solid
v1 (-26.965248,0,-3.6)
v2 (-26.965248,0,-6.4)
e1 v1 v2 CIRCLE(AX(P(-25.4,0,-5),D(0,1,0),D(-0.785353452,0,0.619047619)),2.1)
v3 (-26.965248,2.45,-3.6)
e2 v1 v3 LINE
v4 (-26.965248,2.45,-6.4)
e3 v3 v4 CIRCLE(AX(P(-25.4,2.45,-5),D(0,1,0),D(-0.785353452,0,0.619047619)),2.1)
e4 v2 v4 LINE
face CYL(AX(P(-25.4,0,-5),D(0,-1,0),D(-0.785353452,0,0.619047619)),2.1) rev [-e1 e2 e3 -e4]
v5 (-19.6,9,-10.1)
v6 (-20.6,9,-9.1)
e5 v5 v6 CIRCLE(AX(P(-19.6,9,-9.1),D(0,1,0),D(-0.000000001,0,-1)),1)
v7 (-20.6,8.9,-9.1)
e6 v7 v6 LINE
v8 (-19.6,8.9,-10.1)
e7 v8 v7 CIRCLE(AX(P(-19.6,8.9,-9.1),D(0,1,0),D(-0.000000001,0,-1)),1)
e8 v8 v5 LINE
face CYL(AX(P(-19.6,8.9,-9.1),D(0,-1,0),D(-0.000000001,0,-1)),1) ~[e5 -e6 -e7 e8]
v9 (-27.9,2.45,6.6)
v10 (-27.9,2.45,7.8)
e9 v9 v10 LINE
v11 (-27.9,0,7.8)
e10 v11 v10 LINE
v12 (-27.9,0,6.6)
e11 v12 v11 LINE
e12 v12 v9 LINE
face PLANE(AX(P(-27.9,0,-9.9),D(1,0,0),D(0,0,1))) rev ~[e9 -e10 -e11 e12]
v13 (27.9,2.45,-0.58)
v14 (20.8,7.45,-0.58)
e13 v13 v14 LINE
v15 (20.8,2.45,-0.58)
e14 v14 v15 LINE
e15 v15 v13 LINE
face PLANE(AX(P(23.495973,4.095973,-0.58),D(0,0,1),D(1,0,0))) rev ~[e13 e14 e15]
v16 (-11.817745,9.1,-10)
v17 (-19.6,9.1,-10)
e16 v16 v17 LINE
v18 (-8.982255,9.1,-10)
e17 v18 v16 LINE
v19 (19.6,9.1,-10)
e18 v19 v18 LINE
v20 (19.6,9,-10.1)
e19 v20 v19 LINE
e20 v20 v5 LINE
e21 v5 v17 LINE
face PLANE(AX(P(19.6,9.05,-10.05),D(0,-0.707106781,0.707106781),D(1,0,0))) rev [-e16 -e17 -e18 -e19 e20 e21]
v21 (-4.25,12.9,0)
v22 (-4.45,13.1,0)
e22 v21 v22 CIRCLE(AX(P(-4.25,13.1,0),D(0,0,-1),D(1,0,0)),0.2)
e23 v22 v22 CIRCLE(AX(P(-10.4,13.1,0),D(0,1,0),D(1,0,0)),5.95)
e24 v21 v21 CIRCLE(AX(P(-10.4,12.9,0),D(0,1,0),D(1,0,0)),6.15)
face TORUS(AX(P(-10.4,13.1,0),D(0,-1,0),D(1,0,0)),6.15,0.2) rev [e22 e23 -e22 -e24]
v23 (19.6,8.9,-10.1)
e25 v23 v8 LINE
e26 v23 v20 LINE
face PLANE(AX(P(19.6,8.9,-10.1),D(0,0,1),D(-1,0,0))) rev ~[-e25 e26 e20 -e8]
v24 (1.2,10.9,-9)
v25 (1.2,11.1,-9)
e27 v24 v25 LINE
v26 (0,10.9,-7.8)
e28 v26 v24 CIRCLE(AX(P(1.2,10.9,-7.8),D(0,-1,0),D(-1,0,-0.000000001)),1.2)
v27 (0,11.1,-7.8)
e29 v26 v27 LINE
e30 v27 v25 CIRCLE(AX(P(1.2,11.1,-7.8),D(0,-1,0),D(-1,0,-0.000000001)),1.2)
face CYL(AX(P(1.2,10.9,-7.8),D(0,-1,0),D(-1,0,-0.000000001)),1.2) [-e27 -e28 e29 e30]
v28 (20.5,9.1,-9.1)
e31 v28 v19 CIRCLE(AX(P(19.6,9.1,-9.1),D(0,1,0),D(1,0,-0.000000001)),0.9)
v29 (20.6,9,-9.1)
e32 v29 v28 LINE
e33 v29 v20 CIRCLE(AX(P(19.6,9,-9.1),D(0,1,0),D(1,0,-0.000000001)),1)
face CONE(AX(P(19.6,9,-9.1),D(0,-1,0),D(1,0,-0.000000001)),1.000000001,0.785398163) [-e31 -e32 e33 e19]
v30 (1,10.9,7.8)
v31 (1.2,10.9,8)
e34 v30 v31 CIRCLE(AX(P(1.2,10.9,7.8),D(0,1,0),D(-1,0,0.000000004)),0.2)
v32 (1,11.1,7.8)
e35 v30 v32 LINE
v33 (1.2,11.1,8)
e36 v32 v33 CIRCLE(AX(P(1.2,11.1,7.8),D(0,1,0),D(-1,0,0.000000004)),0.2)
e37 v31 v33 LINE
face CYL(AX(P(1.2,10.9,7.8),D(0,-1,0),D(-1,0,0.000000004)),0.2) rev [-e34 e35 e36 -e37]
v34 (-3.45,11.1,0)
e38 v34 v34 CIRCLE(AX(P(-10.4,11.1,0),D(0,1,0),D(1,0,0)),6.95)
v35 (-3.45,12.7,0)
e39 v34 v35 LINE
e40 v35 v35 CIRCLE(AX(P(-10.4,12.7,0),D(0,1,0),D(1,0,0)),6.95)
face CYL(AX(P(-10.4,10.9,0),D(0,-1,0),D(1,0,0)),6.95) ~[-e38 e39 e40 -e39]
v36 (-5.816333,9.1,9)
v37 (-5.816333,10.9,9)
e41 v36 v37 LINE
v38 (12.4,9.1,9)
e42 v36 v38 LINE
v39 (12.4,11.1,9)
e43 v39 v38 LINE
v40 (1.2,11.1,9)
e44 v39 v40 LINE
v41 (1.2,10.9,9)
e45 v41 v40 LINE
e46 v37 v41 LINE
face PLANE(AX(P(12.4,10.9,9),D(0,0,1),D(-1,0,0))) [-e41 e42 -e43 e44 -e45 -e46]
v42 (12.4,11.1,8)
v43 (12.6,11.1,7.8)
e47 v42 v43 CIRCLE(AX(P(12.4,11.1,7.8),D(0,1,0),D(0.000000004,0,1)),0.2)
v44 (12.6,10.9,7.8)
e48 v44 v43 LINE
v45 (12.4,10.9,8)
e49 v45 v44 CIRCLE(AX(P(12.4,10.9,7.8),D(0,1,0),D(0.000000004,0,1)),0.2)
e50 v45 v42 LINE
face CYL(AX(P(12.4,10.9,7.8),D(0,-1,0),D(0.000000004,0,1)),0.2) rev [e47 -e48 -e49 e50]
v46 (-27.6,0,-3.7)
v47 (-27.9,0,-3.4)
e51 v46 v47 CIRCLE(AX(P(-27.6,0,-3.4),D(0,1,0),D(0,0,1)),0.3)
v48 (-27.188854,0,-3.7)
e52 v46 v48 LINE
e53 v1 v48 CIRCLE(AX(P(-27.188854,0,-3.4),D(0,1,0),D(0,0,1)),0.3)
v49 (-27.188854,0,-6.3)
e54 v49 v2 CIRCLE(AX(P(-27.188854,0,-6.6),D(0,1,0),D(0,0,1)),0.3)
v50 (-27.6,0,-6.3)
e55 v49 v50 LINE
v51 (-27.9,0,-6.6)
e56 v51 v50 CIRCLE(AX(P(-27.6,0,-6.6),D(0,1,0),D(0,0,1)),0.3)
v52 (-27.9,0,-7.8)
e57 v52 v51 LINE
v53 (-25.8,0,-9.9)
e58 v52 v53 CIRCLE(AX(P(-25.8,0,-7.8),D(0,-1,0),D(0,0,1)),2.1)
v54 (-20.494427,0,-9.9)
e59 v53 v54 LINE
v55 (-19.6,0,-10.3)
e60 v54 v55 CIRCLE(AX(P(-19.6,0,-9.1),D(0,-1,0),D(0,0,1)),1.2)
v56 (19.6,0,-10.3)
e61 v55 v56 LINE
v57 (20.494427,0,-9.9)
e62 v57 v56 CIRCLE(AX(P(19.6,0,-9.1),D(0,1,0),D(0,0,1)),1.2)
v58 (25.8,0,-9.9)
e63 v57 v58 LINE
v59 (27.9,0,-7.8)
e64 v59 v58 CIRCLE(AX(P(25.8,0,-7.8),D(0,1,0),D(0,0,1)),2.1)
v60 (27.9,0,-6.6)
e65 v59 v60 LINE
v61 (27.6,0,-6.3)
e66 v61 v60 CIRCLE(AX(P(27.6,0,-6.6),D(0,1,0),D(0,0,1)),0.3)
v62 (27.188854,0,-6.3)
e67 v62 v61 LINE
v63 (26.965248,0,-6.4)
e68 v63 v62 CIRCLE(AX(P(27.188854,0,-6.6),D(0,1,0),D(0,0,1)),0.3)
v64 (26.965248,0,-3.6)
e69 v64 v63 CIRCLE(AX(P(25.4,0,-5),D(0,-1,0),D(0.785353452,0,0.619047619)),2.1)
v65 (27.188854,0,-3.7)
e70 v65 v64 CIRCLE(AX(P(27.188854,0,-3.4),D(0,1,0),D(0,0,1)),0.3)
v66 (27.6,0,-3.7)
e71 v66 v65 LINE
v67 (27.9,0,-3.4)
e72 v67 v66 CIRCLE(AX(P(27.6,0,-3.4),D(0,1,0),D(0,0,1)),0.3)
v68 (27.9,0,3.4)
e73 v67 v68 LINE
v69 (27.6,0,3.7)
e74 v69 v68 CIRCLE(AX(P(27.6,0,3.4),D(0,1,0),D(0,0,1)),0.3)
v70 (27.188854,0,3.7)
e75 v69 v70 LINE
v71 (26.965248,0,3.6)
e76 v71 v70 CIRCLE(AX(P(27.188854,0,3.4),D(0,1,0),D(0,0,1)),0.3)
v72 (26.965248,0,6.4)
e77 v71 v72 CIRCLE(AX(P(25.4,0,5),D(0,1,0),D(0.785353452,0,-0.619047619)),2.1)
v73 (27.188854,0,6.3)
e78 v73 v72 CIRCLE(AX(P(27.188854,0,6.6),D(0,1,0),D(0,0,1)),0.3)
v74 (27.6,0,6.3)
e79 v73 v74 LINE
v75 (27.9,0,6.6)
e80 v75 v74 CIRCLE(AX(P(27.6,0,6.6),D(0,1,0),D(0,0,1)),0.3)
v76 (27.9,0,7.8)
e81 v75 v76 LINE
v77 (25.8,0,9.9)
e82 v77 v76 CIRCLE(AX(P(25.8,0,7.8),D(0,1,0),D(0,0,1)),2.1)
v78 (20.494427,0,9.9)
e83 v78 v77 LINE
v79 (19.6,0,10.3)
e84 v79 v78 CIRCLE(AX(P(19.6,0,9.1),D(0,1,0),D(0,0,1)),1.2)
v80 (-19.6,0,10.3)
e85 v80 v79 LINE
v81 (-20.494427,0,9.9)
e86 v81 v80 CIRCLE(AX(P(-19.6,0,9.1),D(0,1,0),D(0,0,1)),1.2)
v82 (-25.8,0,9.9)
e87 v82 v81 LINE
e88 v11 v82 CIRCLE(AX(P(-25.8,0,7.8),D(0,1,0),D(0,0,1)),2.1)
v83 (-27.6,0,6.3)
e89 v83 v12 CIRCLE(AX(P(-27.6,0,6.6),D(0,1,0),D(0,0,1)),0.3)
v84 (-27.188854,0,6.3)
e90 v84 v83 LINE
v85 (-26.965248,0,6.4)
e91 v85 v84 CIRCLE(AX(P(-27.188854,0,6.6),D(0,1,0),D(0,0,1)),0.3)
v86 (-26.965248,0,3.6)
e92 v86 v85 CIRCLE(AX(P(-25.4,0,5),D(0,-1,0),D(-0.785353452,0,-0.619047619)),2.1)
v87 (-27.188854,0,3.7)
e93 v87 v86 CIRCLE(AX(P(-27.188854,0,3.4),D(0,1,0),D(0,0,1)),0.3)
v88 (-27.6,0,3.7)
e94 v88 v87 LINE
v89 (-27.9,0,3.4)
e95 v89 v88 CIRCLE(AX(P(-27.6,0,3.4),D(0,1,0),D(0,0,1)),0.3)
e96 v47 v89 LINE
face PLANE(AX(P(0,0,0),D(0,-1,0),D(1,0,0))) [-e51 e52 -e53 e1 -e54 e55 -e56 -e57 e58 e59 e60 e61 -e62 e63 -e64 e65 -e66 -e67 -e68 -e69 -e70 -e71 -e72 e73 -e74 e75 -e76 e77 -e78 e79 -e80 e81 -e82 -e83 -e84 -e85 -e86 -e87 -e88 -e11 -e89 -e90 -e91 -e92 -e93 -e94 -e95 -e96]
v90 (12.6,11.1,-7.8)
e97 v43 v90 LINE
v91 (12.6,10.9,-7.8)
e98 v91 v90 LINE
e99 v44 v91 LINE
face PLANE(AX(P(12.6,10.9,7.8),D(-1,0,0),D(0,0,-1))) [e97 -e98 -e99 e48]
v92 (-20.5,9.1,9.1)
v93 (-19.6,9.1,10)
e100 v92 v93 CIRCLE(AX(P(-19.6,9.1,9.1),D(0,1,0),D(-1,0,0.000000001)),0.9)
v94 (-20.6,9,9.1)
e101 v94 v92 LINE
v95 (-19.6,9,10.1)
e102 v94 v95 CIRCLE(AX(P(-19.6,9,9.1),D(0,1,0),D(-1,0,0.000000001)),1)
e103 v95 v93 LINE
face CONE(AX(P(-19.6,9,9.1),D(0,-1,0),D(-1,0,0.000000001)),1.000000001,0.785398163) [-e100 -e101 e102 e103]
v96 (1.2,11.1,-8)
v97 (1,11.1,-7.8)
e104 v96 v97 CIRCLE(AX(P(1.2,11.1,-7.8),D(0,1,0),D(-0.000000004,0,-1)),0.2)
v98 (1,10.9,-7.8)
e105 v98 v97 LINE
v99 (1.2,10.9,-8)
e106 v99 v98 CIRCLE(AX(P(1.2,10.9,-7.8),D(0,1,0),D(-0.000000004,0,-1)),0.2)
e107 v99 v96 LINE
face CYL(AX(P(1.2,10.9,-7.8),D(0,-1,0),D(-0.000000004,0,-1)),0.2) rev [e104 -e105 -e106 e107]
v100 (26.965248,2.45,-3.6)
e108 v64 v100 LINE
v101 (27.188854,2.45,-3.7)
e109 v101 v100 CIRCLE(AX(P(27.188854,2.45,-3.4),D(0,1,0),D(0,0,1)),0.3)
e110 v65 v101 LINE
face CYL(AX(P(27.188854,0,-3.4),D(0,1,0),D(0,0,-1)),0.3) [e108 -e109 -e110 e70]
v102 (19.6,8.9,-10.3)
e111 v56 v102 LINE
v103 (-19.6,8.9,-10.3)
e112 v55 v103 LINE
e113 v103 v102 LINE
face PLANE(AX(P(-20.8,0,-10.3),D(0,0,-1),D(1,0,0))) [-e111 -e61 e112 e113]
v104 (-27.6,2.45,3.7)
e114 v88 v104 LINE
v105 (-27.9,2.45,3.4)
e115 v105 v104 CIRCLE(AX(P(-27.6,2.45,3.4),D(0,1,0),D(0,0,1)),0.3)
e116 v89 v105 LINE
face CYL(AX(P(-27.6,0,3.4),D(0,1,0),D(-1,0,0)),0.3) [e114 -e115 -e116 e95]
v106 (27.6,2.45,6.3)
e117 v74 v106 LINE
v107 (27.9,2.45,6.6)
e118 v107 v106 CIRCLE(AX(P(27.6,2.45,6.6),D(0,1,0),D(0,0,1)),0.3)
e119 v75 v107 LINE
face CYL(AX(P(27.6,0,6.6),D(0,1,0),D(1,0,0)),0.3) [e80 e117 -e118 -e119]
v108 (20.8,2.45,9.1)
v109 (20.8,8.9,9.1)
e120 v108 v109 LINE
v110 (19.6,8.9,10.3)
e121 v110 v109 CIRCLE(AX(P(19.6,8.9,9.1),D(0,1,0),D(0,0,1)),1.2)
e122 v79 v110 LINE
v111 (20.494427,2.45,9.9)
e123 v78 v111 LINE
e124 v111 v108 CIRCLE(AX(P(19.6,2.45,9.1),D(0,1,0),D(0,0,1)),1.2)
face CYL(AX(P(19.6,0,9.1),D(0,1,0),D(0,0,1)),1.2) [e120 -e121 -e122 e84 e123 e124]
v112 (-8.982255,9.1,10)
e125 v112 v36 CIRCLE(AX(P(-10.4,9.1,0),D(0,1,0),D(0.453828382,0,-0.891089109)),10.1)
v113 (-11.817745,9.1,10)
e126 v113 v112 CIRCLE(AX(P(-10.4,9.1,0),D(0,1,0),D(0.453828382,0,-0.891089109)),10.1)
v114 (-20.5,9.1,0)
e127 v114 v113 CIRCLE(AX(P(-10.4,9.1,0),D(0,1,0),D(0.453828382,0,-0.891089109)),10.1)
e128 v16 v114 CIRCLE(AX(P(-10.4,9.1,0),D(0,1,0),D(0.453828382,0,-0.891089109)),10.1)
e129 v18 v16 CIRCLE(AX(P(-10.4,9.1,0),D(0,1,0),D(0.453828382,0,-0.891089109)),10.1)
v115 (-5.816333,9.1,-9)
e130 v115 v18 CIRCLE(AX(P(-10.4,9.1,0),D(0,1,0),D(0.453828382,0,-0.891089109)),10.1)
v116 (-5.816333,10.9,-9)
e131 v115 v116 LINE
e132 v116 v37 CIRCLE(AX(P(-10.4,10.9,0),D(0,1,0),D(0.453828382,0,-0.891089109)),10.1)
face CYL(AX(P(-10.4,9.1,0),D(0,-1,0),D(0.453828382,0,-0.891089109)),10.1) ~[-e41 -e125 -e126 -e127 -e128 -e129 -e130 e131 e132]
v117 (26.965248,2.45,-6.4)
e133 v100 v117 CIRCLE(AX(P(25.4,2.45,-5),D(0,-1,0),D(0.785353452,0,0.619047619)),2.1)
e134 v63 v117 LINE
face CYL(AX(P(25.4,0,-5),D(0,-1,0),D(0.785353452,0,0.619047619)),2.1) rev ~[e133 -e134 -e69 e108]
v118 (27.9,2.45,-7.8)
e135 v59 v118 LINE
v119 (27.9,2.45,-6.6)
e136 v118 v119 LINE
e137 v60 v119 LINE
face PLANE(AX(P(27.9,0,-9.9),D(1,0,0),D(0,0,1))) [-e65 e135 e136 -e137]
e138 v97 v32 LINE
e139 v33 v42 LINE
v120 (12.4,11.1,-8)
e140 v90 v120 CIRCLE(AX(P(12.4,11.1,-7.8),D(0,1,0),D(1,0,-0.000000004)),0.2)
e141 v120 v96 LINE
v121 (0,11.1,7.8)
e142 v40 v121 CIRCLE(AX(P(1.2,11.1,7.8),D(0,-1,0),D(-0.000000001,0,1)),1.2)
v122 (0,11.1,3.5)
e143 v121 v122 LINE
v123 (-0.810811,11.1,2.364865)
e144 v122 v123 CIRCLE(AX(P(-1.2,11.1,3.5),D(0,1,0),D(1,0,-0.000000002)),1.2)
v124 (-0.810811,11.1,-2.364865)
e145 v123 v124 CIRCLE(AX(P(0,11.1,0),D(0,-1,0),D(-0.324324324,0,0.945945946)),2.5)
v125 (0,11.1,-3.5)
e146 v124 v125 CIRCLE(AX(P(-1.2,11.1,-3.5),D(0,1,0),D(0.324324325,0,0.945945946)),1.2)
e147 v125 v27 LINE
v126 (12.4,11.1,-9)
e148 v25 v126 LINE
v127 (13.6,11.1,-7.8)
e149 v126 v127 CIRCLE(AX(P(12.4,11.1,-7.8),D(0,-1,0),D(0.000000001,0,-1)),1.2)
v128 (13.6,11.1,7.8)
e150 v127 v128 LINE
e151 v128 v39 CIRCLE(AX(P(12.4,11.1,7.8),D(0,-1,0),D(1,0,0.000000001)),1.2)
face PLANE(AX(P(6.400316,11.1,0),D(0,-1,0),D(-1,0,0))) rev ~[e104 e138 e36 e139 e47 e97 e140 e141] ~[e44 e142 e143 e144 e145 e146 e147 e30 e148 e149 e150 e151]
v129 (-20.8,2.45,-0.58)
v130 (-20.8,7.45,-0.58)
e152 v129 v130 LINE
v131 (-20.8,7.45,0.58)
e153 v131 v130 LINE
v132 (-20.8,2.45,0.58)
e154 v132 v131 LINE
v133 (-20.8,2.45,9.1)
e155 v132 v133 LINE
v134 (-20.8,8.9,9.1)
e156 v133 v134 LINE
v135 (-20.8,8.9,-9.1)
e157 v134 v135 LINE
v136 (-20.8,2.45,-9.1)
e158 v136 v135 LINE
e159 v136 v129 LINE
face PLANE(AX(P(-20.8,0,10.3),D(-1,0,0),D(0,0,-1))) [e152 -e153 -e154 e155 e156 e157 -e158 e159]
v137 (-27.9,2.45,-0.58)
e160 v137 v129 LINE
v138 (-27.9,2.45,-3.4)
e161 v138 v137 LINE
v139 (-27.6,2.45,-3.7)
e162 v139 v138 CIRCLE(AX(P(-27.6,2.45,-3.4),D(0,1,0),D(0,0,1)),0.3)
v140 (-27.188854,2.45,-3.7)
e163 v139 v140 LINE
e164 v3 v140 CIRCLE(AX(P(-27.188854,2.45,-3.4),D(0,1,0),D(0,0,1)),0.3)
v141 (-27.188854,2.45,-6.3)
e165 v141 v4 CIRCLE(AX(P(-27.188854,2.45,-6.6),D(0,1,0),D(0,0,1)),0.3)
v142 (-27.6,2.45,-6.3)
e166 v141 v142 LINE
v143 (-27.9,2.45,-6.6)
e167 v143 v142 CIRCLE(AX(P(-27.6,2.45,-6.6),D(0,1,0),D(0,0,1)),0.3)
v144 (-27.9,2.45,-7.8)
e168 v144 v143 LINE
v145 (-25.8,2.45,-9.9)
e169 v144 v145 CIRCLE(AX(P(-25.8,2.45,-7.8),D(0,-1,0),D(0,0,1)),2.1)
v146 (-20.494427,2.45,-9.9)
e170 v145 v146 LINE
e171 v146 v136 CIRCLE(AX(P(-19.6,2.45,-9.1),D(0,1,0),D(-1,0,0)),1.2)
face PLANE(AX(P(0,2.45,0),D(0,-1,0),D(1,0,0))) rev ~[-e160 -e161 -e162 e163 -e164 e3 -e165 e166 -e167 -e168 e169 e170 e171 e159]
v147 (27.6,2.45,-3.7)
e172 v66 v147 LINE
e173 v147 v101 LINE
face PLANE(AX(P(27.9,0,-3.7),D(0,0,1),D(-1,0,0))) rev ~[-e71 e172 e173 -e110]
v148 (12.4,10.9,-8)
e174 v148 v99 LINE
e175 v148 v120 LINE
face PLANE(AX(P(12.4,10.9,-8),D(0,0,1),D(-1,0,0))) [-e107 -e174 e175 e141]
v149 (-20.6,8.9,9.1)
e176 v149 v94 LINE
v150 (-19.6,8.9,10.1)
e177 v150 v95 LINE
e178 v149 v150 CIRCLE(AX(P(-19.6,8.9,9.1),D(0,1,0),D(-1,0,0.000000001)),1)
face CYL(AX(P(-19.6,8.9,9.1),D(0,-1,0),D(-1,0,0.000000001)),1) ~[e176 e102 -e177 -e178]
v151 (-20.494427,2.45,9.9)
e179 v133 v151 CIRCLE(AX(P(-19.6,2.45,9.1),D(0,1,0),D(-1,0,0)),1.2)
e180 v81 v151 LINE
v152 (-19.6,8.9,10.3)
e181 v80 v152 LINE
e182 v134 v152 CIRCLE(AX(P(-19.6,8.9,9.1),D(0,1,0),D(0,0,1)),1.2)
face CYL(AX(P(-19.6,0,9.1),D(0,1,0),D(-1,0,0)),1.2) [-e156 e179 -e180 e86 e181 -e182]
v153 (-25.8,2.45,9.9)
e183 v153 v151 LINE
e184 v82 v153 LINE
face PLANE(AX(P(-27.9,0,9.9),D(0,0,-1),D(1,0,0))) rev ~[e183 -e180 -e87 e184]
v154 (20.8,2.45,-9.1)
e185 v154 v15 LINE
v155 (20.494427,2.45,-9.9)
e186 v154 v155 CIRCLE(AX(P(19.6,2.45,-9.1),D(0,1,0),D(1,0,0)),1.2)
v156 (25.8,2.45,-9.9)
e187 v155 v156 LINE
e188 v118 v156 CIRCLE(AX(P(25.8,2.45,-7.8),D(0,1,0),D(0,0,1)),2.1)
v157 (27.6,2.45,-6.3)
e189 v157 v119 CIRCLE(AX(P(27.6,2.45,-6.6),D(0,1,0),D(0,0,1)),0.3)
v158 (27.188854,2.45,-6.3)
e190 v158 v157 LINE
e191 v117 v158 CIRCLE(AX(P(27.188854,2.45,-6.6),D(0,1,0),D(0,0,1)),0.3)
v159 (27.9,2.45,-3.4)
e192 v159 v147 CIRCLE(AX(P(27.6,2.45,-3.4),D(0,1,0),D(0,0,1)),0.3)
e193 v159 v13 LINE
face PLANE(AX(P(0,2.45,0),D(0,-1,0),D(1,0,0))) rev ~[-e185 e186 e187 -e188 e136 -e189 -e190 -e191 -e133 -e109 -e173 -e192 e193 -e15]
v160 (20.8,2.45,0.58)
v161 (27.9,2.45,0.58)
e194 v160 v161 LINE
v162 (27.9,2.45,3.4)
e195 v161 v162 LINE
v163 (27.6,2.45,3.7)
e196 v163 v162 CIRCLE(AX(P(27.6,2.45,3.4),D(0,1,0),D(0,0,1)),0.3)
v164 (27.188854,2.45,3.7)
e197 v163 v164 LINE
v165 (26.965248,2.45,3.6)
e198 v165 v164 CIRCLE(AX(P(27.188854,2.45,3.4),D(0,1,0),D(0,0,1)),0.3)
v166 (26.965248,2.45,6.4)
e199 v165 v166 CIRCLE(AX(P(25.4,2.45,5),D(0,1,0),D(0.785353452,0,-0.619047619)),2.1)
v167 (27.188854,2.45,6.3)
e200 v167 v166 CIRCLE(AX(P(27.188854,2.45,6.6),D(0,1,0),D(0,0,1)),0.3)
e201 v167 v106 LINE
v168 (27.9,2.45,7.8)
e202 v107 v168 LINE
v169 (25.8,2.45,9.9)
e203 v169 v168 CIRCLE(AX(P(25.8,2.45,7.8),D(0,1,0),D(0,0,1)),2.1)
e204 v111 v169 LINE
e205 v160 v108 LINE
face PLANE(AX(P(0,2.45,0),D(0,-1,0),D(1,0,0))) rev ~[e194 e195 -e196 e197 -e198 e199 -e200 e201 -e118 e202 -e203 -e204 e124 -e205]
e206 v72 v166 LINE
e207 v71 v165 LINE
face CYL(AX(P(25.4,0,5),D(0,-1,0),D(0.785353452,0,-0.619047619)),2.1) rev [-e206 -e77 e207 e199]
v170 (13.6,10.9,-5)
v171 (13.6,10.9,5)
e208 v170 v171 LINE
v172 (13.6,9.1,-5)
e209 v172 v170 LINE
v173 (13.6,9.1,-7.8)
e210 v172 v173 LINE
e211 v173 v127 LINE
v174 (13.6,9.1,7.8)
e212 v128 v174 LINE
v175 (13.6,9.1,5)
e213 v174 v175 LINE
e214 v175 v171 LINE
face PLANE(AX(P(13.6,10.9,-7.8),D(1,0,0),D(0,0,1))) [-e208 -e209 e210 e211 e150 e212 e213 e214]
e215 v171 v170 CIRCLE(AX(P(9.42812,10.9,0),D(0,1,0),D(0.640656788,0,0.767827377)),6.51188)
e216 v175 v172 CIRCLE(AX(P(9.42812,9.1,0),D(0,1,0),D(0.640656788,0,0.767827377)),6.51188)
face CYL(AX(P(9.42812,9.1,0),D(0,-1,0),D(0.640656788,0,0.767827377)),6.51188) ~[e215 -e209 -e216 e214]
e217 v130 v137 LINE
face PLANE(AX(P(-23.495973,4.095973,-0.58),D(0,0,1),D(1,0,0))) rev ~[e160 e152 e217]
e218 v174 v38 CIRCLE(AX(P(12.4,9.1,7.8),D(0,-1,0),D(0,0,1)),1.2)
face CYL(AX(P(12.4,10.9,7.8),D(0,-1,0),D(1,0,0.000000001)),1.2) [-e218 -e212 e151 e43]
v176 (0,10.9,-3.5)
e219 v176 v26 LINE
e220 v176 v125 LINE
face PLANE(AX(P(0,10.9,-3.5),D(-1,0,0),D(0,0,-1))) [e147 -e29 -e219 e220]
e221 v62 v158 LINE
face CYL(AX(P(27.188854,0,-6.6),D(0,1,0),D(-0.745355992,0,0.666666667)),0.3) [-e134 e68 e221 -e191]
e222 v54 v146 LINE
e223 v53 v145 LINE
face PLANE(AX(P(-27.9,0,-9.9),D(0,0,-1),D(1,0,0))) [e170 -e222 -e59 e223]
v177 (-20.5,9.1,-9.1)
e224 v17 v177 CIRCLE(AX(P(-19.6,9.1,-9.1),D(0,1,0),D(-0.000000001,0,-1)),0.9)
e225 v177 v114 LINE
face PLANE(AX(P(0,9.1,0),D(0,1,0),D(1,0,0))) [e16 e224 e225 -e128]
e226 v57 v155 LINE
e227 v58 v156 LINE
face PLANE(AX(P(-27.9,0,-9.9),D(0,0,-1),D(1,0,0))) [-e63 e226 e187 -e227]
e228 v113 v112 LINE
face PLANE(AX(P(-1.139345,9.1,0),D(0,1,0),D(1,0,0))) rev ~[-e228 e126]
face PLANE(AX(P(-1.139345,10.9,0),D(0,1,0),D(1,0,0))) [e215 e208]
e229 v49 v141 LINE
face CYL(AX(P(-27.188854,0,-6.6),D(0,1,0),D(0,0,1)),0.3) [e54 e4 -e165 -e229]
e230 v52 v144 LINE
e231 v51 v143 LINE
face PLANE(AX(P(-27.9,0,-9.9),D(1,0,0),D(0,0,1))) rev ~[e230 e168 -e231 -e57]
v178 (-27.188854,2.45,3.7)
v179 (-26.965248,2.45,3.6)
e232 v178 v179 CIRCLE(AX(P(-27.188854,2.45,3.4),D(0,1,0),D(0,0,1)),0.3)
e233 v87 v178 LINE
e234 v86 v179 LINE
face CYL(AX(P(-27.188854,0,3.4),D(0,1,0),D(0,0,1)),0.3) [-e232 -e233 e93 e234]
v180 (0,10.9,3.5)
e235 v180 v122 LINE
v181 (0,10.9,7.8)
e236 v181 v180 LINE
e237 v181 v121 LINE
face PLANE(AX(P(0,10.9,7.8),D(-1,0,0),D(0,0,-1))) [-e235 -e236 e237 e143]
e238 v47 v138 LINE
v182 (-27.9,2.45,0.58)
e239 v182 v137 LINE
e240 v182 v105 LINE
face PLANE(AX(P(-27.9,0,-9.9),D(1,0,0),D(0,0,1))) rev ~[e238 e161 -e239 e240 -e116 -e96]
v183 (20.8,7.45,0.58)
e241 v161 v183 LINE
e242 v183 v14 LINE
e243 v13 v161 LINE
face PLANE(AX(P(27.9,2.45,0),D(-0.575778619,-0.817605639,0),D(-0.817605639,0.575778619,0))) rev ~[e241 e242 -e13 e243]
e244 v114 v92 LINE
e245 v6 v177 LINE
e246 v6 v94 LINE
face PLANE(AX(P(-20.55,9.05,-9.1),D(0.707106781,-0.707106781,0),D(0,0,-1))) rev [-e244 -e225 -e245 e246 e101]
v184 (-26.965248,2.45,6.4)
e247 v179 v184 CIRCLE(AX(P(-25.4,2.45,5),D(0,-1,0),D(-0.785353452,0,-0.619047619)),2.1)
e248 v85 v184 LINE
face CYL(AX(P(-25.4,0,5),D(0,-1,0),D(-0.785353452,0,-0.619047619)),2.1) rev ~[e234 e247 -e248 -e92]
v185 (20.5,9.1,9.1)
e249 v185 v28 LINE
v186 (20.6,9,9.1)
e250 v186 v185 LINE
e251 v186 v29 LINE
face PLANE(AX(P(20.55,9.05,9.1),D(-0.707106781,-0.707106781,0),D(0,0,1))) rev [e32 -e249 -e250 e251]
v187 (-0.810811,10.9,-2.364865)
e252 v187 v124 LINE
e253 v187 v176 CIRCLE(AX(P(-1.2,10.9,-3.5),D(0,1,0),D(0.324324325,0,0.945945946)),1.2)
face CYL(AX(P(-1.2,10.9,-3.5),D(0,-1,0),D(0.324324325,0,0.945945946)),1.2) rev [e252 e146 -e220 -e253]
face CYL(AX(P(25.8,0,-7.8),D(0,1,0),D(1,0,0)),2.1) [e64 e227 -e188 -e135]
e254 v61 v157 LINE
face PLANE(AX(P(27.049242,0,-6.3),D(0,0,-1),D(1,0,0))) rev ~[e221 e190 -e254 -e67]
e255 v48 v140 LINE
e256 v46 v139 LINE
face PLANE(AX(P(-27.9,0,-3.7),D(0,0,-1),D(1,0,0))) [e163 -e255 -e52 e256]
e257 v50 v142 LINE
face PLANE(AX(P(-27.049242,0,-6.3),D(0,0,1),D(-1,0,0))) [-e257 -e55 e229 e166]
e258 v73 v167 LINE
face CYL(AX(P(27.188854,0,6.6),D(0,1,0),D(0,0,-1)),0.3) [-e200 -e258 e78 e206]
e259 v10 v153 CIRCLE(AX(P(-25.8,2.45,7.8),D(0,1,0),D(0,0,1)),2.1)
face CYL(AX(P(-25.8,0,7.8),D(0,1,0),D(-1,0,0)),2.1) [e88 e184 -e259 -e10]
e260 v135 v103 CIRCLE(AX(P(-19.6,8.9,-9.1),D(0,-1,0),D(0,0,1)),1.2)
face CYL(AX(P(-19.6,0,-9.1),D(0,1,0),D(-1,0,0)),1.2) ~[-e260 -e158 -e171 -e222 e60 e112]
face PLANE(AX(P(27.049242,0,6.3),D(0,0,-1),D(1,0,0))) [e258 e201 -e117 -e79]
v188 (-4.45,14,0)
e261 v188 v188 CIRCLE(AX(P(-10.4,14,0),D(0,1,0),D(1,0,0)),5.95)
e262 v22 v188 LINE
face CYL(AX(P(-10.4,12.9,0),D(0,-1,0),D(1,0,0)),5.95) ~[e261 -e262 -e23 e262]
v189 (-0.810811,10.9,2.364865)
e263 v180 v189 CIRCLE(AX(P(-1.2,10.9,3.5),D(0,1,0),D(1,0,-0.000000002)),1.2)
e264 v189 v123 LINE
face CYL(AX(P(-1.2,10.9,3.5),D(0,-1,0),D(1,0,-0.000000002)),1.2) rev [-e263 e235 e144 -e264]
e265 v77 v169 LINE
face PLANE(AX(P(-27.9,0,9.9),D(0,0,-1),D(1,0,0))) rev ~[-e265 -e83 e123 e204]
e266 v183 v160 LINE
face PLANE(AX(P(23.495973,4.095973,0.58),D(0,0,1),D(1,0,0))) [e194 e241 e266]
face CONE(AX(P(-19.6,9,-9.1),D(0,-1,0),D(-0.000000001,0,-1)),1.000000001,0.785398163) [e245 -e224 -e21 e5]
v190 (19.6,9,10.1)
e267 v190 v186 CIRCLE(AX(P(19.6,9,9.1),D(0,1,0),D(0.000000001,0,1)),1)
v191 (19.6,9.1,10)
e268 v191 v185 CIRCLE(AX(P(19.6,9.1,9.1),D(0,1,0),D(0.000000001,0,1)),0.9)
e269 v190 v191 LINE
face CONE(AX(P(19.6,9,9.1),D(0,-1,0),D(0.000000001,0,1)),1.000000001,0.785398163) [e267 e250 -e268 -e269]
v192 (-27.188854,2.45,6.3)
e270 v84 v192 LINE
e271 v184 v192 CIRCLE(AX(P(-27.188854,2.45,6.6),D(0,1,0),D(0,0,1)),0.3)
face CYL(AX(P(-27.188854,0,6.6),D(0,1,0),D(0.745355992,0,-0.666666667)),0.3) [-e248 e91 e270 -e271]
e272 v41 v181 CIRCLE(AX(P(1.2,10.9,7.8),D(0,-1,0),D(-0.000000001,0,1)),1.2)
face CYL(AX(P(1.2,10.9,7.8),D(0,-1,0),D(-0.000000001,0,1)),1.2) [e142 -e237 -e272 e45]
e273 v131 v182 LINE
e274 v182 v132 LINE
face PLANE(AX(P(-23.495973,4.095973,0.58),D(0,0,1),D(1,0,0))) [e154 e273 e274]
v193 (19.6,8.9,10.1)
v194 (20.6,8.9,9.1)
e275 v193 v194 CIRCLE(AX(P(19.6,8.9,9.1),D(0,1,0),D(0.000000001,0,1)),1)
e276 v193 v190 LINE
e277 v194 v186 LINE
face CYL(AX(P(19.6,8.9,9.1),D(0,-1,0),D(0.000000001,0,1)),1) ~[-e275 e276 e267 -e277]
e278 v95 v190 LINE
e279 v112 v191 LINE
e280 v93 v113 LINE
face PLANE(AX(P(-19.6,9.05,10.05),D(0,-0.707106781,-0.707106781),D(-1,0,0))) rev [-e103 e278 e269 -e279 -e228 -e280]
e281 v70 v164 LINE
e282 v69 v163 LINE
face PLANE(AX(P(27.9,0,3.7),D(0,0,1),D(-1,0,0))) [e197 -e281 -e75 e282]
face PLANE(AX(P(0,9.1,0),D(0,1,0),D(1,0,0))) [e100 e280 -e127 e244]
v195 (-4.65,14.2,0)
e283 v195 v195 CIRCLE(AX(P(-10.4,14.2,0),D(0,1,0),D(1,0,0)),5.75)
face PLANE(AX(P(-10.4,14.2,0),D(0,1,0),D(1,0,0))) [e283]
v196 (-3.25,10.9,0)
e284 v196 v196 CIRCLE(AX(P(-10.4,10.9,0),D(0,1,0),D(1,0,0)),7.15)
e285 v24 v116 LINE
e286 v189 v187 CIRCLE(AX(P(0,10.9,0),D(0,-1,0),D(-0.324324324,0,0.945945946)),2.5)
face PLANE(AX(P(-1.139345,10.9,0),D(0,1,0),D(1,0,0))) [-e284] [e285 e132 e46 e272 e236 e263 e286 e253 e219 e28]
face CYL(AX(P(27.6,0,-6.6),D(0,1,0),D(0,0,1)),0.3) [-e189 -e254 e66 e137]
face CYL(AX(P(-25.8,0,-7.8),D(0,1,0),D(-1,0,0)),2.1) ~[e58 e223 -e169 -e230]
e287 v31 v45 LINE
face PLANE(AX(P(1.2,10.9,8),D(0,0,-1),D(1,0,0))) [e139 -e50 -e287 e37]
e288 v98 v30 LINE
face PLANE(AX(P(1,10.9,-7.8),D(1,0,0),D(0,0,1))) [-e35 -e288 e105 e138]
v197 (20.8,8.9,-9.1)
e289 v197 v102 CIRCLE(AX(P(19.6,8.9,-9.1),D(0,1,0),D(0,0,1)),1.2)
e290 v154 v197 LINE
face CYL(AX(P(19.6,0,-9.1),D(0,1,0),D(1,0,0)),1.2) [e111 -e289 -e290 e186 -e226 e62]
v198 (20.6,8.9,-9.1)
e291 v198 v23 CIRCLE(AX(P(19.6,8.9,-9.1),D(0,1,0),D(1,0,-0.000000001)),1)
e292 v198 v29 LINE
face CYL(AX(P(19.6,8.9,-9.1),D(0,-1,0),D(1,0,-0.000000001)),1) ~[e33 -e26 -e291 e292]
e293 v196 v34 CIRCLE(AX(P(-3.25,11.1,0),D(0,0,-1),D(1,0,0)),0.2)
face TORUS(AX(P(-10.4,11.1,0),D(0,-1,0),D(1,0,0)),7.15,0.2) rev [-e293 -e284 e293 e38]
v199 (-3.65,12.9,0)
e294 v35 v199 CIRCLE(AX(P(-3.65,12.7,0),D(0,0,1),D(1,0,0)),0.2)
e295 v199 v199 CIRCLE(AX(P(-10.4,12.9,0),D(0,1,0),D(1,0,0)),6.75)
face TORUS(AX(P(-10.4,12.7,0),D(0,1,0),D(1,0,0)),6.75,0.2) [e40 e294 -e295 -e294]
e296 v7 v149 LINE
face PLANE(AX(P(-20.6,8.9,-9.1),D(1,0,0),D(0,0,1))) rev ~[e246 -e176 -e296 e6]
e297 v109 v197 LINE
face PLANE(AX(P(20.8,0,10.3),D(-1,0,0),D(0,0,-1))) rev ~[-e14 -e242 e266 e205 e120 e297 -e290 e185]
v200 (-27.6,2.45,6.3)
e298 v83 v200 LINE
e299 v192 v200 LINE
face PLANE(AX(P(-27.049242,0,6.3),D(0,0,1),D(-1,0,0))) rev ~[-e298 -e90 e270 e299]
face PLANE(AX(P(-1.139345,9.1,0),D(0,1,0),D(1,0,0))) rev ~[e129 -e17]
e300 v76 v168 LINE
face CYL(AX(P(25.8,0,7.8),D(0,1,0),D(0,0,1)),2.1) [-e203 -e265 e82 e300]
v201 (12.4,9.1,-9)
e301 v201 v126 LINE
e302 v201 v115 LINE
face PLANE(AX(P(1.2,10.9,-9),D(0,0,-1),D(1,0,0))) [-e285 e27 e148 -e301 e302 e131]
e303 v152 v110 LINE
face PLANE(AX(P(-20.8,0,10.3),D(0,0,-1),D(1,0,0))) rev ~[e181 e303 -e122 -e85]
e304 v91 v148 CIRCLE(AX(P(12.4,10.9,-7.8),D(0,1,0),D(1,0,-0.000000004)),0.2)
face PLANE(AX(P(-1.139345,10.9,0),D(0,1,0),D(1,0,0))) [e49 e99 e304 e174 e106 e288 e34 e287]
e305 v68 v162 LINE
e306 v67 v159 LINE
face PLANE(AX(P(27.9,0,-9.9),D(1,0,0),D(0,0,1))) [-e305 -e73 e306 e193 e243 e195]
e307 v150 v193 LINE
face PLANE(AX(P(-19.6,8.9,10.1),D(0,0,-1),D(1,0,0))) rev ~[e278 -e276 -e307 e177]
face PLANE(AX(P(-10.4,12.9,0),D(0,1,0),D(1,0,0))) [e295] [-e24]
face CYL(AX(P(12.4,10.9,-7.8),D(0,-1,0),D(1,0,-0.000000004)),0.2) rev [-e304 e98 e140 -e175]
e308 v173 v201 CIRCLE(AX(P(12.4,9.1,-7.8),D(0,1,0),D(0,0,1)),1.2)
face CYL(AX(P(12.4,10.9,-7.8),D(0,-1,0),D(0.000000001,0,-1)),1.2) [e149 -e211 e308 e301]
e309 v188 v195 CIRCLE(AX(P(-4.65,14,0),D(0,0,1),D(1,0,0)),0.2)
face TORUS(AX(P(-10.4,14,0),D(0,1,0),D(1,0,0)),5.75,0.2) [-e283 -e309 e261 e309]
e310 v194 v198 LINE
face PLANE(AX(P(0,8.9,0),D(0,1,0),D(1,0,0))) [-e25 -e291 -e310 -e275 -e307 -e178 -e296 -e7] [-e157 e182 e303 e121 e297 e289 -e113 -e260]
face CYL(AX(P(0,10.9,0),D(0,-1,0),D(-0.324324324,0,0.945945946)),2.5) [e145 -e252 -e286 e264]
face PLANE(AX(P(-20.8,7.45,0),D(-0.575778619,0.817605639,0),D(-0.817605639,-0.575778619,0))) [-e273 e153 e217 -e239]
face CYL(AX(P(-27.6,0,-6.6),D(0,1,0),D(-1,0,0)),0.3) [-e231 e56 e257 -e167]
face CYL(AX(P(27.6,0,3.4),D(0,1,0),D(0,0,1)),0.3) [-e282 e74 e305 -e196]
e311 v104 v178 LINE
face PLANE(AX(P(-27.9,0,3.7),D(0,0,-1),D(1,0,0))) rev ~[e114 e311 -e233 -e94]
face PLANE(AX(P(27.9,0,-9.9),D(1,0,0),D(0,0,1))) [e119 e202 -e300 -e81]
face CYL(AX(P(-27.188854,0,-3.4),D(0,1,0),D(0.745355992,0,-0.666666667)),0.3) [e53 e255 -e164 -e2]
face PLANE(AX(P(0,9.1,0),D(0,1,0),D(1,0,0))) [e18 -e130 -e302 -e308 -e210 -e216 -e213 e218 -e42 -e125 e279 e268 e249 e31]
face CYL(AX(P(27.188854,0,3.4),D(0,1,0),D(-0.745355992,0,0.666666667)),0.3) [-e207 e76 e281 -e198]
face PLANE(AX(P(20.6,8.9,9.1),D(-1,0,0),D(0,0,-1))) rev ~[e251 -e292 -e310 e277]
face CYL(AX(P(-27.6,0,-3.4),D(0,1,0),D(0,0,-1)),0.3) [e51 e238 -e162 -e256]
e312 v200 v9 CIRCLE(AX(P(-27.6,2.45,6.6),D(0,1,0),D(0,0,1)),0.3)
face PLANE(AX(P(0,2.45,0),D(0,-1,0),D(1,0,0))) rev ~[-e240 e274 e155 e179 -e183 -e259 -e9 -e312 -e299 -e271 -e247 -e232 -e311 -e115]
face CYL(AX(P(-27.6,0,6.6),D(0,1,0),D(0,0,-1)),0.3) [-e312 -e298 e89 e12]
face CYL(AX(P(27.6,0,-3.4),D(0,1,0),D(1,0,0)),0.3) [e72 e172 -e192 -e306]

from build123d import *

# Parameters (mm, degrees)
CROQUIS1_W              = 41.6
CROQUIS1_H              = 20.6
SALIENTE_EXTRUIR1_DEPTH = 8.9
REDONDEO1_R             = 1.2
CROQUIS2_W              = 55.8
CROQUIS2_H              = 19.8
SALIENTE_EXTRUIR2_DEPTH = 2.45
REDONDEO2_R             = 2.1
CORTAR_EXTRUIR1_DEPTH   = 2.45
REDONDEO3_R             = 0.3
SALIENTE_EXTRUIR3_DEPTH = 0.2
CHAFL_N1_SIZE           = 0.1
SALIENTE_EXTRUIR4_DEPTH = 1.8
REDONDEO5_R             = 1.2
SALIENTE_EXTRUIR5_DEPTH = 0.2
CROQUIS11_R             = 6.95
SALIENTE_EXTRUIR6_DEPTH = 2
REDONDEO6_R             = 0.2
CROQUIS12_R             = 5.95
SALIENTE_EXTRUIR7_DEPTH = 1.3
REDONDEO7_R             = 0.2
SALIENTE_EXTRUIR8_DEPTH = 0.58


with BuildPart() as part:
    # Croquis1 → Saliente-Extruir1 (new body)
    with BuildSketch(Plane(origin=(0, 0, 0), x_dir=(1, 0, 0), z_dir=(0, 1, 0))):
        Rectangle(CROQUIS1_W, CROQUIS1_H)
    extrude(amount=SALIENTE_EXTRUIR1_DEPTH)

    # Redondeo1
    redondeo1_edges = [part.edges().sort_by_distance(p)[0] for p in [
        (20.8, 4.45, 10.3),
        (-20.8, 4.45, 10.3),
        (-20.8, 4.45, -10.3),
        (20.8, 4.45, -10.3),
    ]]
    fillet(redondeo1_edges, radius=REDONDEO1_R)

    # Croquis2 → Saliente-Extruir2 (add)
    with BuildSketch(Plane.XZ):
        Rectangle(CROQUIS2_W, CROQUIS2_H)
    extrude(amount=-SALIENTE_EXTRUIR2_DEPTH)

    # Redondeo2
    redondeo2_edges = [part.edges().sort_by_distance(p)[0] for p in [
        (-27.9, 1.225, -9.9),
        (-27.9, 1.225, 9.9),
        (27.9, 1.225, 9.9),
        (27.9, 1.225, -9.9),
    ]]
    fillet(redondeo2_edges, radius=REDONDEO2_R)

    # Croquis3 → Cortar-Extruir1 (cut)
    with BuildSketch(Plane.XZ):
        with BuildLine():
            Line((27.04924225, 6.3), (27.9, 6.3))
            Line((27.9, 6.3), (27.9, 3.7))
            Line((27.9, 3.7), (27.04924225, 3.7))
            ThreePointArc((27.04924225, 3.7), (23.3, 5), (27.04924225, 6.3))
        make_face()
        with BuildLine():
            Line((27.9, -6.3), (27.9, -3.7))
            Line((27.9, -3.7), (27.04924225, -3.7))
            ThreePointArc((27.04924225, -3.7), (23.3, -5), (27.04924225, -6.3))
            Line((27.04924225, -6.3), (27.9, -6.3))
        make_face()
        with BuildLine():
            Line((-27.04924225, -6.3), (-27.9, -6.3))
            Line((-27.9, -6.3), (-27.9, -3.7))
            Line((-27.9, -3.7), (-27.04924225, -3.7))
            ThreePointArc((-27.04924225, -3.7), (-23.3, -5), (-27.04924225, -6.3))
        make_face()
        with BuildLine():
            Line((-27.9, 6.3), (-27.9, 3.7))
            Line((-27.9, 3.7), (-27.04924225, 3.7))
            ThreePointArc((-27.04924225, 3.7), (-23.3, 5), (-27.04924225, 6.3))
            Line((-27.04924225, 6.3), (-27.9, 6.3))
        make_face()
    extrude(amount=-CORTAR_EXTRUIR1_DEPTH, mode=Mode.SUBTRACT)

    # Redondeo3
    redondeo3_edges = [part.edges().sort_by_distance(p)[0] for p in [
        (27.04924225, 1.225, 3.7),
        (27.04924225, 1.225, 6.3),
        (27.9, 1.225, 6.3),
        (27.9, 1.225, 3.7),
        (27.9, 1.225, -6.3),
        (27.04924225, 1.225, -6.3),
        (27.04924225, 1.225, -3.7),
        (27.9, 1.225, -3.7),
        (-27.9, 1.225, 6.3),
        (-27.04924225, 1.225, 6.3),
        (-27.04924225, 1.225, 3.7),
        (-27.9, 1.225, 3.7),
        (-27.9, 1.225, -6.3),
        (-27.9, 1.225, -3.7),
        (-27.04924225, 1.225, -3.7),
        (-27.04924225, 1.225, -6.3),
    ]]
    fillet(redondeo3_edges, radius=REDONDEO3_R)

    # Croquis4 → Saliente-Extruir3 (add)
    with BuildSketch(Plane(origin=(0, 8.9, 0), x_dir=(1, 0, 0), z_dir=(0, 1, 0))):
        with BuildLine():
            Line((20.6, -9.1), (20.6, 9.1))
            ThreePointArc((20.6, 9.1), (20.307106781, 9.807106781), (19.6, 10.1))
            Line((19.6, 10.1), (-19.6, 10.1))
            ThreePointArc((-19.6, 10.1), (-20.307106781, 9.807106781), (-20.6, 9.1))
            Line((-20.6, 9.1), (-20.6, -9.1))
            ThreePointArc((-20.6, -9.1), (-20.307106781, -9.807106781), (-19.6, -10.1))
            Line((-19.6, -10.1), (19.6, -10.1))
            ThreePointArc((19.6, -10.1), (20.307106781, -9.807106781), (20.6, -9.1))
        make_face()
    extrude(amount=SALIENTE_EXTRUIR3_DEPTH)

    # Chaflán1
    chafl_n1_edges = [part.edges().sort_by_distance(p)[0] for p in [
        (20.307106781, 9.1, -9.807106781),
        (0, 9.1, -10.1),
        (-20.307106781, 9.1, -9.807106781),
        (-20.6, 9.1, 0),
        (-20.307106781, 9.1, 9.807106781),
        (0, 9.1, 10.1),
        (20.307106781, 9.1, 9.807106781),
        (20.6, 9.1, 0),
    ]]
    chamfer(chafl_n1_edges, length=CHAFL_N1_SIZE)

    # Croquis6 → Saliente-Extruir4 (add)
    with BuildSketch(Plane(origin=(0, 9.1, 0), x_dir=(1, 0, 0), z_dir=(0, 1, 0))):
        with BuildLine():
            Line((13.6, 5), (13.6, 9))
            Line((13.6, 9), (-5.816333345, 9))
            ThreePointArc((-5.816333345, 9), (-20.5, 0), (-5.816333345, -9))
            Line((-5.816333345, -9), (13.6, -9))
            Line((13.6, -9), (13.6, -5))
            ThreePointArc((13.6, -5), (15.94, 0), (13.6, 5))
        make_face()
    extrude(amount=SALIENTE_EXTRUIR4_DEPTH)

    # Redondeo5
    redondeo5_edges = [part.edges().sort_by_distance(p)[0] for p in [
        (13.6, 10, -9),
        (13.6, 10, 9),
    ]]
    fillet(redondeo5_edges, radius=REDONDEO5_R)

    # Croquis10 → Saliente-Extruir5 (add)
    with BuildSketch(Plane(origin=(0, 10.9, 0), x_dir=(1, 0, 0), z_dir=(0, 1, 0))):
        with BuildLine():
            Line((13.6, 7.8), (13.6, -7.8))
            ThreePointArc((13.6, -7.8), (13.248528137, -8.648528137), (12.4, -9))
            Line((12.4, -9), (1.2, -9))
            ThreePointArc((1.2, -9), (0.351471863, -8.648528137), (0, -7.8))
            Line((0, -7.8), (0, -3.5))
            ThreePointArc((0, -3.5), (-0.223519835, -2.802514168), (-0.810810811, -2.364864865))
            ThreePointArc((-0.810810811, -2.364864865), (-2.5, 0), (-0.810810811, 2.364864865))
            ThreePointArc((-0.810810811, 2.364864865), (-0.223519835, 2.802514168), (0, 3.5))
            Line((0, 3.5), (0, 7.8))
            ThreePointArc((0, 7.8), (0.351471863, 8.648528137), (1.2, 9))
            Line((1.2, 9), (12.4, 9))
            ThreePointArc((12.4, 9), (13.248528137, 8.648528137), (13.6, 7.8))
        make_face()
        with BuildLine():
            Line((12.4, 8), (1.2, 8))
            ThreePointArc((1.2, 8), (1.058578644, 7.941421356), (1, 7.8))
            Line((1, 7.8), (1, -7.8))
            ThreePointArc((1, -7.8), (1.058578644, -7.941421356), (1.2, -8))
            Line((1.2, -8), (12.4, -8))
            ThreePointArc((12.4, -8), (12.541421356, -7.941421356), (12.6, -7.8))
            Line((12.6, -7.8), (12.6, 7.8))
            ThreePointArc((12.6, 7.8), (12.541421356, 7.941421356), (12.4, 8))
        make_face(mode=Mode.SUBTRACT)
    extrude(amount=SALIENTE_EXTRUIR5_DEPTH)

    # Croquis11 → Saliente-Extruir6 (add)
    with BuildSketch(Plane(origin=(0, 10.9, 0), x_dir=(1, 0, 0), z_dir=(0, 1, 0))):
        with Locations((-10.4, 0)):
            Circle(CROQUIS11_R)
    extrude(amount=SALIENTE_EXTRUIR6_DEPTH)

    # Redondeo6
    redondeo6_edges = [part.edges().sort_by_distance(p)[0] for p in [
        (-17.35, 10.9, 0),
        (-17.35, 12.9, 0),
    ]]
    fillet(redondeo6_edges, radius=REDONDEO6_R)

    # Croquis12 → Saliente-Extruir7 (add)
    with BuildSketch(Plane(origin=(0, 12.9, 0), x_dir=(1, 0, 0), z_dir=(0, 1, 0))):
        with Locations((-10.4, 0)):
            Circle(CROQUIS12_R)
    extrude(amount=SALIENTE_EXTRUIR7_DEPTH)

    # Redondeo7
    redondeo7_edges = [part.edges().sort_by_distance(p)[0] for p in [
        (-16.35, 12.9, 0),
        (-16.35, 14.2, 0),
    ]]
    fillet(redondeo7_edges, radius=REDONDEO7_R)

    # Croquis13 → Saliente-Extruir8 (add, symmetric)
    with BuildSketch(Plane.XY):
        Polygon((20.8, 2.45), (27.9, 2.45), (20.8, 7.45), align=None)
        Polygon((-27.9, 2.45), (-20.8, 2.45), (-20.8, 7.45), align=None)
    extrude(amount=SALIENTE_EXTRUIR8_DEPTH, both=True)


solid = part.part
